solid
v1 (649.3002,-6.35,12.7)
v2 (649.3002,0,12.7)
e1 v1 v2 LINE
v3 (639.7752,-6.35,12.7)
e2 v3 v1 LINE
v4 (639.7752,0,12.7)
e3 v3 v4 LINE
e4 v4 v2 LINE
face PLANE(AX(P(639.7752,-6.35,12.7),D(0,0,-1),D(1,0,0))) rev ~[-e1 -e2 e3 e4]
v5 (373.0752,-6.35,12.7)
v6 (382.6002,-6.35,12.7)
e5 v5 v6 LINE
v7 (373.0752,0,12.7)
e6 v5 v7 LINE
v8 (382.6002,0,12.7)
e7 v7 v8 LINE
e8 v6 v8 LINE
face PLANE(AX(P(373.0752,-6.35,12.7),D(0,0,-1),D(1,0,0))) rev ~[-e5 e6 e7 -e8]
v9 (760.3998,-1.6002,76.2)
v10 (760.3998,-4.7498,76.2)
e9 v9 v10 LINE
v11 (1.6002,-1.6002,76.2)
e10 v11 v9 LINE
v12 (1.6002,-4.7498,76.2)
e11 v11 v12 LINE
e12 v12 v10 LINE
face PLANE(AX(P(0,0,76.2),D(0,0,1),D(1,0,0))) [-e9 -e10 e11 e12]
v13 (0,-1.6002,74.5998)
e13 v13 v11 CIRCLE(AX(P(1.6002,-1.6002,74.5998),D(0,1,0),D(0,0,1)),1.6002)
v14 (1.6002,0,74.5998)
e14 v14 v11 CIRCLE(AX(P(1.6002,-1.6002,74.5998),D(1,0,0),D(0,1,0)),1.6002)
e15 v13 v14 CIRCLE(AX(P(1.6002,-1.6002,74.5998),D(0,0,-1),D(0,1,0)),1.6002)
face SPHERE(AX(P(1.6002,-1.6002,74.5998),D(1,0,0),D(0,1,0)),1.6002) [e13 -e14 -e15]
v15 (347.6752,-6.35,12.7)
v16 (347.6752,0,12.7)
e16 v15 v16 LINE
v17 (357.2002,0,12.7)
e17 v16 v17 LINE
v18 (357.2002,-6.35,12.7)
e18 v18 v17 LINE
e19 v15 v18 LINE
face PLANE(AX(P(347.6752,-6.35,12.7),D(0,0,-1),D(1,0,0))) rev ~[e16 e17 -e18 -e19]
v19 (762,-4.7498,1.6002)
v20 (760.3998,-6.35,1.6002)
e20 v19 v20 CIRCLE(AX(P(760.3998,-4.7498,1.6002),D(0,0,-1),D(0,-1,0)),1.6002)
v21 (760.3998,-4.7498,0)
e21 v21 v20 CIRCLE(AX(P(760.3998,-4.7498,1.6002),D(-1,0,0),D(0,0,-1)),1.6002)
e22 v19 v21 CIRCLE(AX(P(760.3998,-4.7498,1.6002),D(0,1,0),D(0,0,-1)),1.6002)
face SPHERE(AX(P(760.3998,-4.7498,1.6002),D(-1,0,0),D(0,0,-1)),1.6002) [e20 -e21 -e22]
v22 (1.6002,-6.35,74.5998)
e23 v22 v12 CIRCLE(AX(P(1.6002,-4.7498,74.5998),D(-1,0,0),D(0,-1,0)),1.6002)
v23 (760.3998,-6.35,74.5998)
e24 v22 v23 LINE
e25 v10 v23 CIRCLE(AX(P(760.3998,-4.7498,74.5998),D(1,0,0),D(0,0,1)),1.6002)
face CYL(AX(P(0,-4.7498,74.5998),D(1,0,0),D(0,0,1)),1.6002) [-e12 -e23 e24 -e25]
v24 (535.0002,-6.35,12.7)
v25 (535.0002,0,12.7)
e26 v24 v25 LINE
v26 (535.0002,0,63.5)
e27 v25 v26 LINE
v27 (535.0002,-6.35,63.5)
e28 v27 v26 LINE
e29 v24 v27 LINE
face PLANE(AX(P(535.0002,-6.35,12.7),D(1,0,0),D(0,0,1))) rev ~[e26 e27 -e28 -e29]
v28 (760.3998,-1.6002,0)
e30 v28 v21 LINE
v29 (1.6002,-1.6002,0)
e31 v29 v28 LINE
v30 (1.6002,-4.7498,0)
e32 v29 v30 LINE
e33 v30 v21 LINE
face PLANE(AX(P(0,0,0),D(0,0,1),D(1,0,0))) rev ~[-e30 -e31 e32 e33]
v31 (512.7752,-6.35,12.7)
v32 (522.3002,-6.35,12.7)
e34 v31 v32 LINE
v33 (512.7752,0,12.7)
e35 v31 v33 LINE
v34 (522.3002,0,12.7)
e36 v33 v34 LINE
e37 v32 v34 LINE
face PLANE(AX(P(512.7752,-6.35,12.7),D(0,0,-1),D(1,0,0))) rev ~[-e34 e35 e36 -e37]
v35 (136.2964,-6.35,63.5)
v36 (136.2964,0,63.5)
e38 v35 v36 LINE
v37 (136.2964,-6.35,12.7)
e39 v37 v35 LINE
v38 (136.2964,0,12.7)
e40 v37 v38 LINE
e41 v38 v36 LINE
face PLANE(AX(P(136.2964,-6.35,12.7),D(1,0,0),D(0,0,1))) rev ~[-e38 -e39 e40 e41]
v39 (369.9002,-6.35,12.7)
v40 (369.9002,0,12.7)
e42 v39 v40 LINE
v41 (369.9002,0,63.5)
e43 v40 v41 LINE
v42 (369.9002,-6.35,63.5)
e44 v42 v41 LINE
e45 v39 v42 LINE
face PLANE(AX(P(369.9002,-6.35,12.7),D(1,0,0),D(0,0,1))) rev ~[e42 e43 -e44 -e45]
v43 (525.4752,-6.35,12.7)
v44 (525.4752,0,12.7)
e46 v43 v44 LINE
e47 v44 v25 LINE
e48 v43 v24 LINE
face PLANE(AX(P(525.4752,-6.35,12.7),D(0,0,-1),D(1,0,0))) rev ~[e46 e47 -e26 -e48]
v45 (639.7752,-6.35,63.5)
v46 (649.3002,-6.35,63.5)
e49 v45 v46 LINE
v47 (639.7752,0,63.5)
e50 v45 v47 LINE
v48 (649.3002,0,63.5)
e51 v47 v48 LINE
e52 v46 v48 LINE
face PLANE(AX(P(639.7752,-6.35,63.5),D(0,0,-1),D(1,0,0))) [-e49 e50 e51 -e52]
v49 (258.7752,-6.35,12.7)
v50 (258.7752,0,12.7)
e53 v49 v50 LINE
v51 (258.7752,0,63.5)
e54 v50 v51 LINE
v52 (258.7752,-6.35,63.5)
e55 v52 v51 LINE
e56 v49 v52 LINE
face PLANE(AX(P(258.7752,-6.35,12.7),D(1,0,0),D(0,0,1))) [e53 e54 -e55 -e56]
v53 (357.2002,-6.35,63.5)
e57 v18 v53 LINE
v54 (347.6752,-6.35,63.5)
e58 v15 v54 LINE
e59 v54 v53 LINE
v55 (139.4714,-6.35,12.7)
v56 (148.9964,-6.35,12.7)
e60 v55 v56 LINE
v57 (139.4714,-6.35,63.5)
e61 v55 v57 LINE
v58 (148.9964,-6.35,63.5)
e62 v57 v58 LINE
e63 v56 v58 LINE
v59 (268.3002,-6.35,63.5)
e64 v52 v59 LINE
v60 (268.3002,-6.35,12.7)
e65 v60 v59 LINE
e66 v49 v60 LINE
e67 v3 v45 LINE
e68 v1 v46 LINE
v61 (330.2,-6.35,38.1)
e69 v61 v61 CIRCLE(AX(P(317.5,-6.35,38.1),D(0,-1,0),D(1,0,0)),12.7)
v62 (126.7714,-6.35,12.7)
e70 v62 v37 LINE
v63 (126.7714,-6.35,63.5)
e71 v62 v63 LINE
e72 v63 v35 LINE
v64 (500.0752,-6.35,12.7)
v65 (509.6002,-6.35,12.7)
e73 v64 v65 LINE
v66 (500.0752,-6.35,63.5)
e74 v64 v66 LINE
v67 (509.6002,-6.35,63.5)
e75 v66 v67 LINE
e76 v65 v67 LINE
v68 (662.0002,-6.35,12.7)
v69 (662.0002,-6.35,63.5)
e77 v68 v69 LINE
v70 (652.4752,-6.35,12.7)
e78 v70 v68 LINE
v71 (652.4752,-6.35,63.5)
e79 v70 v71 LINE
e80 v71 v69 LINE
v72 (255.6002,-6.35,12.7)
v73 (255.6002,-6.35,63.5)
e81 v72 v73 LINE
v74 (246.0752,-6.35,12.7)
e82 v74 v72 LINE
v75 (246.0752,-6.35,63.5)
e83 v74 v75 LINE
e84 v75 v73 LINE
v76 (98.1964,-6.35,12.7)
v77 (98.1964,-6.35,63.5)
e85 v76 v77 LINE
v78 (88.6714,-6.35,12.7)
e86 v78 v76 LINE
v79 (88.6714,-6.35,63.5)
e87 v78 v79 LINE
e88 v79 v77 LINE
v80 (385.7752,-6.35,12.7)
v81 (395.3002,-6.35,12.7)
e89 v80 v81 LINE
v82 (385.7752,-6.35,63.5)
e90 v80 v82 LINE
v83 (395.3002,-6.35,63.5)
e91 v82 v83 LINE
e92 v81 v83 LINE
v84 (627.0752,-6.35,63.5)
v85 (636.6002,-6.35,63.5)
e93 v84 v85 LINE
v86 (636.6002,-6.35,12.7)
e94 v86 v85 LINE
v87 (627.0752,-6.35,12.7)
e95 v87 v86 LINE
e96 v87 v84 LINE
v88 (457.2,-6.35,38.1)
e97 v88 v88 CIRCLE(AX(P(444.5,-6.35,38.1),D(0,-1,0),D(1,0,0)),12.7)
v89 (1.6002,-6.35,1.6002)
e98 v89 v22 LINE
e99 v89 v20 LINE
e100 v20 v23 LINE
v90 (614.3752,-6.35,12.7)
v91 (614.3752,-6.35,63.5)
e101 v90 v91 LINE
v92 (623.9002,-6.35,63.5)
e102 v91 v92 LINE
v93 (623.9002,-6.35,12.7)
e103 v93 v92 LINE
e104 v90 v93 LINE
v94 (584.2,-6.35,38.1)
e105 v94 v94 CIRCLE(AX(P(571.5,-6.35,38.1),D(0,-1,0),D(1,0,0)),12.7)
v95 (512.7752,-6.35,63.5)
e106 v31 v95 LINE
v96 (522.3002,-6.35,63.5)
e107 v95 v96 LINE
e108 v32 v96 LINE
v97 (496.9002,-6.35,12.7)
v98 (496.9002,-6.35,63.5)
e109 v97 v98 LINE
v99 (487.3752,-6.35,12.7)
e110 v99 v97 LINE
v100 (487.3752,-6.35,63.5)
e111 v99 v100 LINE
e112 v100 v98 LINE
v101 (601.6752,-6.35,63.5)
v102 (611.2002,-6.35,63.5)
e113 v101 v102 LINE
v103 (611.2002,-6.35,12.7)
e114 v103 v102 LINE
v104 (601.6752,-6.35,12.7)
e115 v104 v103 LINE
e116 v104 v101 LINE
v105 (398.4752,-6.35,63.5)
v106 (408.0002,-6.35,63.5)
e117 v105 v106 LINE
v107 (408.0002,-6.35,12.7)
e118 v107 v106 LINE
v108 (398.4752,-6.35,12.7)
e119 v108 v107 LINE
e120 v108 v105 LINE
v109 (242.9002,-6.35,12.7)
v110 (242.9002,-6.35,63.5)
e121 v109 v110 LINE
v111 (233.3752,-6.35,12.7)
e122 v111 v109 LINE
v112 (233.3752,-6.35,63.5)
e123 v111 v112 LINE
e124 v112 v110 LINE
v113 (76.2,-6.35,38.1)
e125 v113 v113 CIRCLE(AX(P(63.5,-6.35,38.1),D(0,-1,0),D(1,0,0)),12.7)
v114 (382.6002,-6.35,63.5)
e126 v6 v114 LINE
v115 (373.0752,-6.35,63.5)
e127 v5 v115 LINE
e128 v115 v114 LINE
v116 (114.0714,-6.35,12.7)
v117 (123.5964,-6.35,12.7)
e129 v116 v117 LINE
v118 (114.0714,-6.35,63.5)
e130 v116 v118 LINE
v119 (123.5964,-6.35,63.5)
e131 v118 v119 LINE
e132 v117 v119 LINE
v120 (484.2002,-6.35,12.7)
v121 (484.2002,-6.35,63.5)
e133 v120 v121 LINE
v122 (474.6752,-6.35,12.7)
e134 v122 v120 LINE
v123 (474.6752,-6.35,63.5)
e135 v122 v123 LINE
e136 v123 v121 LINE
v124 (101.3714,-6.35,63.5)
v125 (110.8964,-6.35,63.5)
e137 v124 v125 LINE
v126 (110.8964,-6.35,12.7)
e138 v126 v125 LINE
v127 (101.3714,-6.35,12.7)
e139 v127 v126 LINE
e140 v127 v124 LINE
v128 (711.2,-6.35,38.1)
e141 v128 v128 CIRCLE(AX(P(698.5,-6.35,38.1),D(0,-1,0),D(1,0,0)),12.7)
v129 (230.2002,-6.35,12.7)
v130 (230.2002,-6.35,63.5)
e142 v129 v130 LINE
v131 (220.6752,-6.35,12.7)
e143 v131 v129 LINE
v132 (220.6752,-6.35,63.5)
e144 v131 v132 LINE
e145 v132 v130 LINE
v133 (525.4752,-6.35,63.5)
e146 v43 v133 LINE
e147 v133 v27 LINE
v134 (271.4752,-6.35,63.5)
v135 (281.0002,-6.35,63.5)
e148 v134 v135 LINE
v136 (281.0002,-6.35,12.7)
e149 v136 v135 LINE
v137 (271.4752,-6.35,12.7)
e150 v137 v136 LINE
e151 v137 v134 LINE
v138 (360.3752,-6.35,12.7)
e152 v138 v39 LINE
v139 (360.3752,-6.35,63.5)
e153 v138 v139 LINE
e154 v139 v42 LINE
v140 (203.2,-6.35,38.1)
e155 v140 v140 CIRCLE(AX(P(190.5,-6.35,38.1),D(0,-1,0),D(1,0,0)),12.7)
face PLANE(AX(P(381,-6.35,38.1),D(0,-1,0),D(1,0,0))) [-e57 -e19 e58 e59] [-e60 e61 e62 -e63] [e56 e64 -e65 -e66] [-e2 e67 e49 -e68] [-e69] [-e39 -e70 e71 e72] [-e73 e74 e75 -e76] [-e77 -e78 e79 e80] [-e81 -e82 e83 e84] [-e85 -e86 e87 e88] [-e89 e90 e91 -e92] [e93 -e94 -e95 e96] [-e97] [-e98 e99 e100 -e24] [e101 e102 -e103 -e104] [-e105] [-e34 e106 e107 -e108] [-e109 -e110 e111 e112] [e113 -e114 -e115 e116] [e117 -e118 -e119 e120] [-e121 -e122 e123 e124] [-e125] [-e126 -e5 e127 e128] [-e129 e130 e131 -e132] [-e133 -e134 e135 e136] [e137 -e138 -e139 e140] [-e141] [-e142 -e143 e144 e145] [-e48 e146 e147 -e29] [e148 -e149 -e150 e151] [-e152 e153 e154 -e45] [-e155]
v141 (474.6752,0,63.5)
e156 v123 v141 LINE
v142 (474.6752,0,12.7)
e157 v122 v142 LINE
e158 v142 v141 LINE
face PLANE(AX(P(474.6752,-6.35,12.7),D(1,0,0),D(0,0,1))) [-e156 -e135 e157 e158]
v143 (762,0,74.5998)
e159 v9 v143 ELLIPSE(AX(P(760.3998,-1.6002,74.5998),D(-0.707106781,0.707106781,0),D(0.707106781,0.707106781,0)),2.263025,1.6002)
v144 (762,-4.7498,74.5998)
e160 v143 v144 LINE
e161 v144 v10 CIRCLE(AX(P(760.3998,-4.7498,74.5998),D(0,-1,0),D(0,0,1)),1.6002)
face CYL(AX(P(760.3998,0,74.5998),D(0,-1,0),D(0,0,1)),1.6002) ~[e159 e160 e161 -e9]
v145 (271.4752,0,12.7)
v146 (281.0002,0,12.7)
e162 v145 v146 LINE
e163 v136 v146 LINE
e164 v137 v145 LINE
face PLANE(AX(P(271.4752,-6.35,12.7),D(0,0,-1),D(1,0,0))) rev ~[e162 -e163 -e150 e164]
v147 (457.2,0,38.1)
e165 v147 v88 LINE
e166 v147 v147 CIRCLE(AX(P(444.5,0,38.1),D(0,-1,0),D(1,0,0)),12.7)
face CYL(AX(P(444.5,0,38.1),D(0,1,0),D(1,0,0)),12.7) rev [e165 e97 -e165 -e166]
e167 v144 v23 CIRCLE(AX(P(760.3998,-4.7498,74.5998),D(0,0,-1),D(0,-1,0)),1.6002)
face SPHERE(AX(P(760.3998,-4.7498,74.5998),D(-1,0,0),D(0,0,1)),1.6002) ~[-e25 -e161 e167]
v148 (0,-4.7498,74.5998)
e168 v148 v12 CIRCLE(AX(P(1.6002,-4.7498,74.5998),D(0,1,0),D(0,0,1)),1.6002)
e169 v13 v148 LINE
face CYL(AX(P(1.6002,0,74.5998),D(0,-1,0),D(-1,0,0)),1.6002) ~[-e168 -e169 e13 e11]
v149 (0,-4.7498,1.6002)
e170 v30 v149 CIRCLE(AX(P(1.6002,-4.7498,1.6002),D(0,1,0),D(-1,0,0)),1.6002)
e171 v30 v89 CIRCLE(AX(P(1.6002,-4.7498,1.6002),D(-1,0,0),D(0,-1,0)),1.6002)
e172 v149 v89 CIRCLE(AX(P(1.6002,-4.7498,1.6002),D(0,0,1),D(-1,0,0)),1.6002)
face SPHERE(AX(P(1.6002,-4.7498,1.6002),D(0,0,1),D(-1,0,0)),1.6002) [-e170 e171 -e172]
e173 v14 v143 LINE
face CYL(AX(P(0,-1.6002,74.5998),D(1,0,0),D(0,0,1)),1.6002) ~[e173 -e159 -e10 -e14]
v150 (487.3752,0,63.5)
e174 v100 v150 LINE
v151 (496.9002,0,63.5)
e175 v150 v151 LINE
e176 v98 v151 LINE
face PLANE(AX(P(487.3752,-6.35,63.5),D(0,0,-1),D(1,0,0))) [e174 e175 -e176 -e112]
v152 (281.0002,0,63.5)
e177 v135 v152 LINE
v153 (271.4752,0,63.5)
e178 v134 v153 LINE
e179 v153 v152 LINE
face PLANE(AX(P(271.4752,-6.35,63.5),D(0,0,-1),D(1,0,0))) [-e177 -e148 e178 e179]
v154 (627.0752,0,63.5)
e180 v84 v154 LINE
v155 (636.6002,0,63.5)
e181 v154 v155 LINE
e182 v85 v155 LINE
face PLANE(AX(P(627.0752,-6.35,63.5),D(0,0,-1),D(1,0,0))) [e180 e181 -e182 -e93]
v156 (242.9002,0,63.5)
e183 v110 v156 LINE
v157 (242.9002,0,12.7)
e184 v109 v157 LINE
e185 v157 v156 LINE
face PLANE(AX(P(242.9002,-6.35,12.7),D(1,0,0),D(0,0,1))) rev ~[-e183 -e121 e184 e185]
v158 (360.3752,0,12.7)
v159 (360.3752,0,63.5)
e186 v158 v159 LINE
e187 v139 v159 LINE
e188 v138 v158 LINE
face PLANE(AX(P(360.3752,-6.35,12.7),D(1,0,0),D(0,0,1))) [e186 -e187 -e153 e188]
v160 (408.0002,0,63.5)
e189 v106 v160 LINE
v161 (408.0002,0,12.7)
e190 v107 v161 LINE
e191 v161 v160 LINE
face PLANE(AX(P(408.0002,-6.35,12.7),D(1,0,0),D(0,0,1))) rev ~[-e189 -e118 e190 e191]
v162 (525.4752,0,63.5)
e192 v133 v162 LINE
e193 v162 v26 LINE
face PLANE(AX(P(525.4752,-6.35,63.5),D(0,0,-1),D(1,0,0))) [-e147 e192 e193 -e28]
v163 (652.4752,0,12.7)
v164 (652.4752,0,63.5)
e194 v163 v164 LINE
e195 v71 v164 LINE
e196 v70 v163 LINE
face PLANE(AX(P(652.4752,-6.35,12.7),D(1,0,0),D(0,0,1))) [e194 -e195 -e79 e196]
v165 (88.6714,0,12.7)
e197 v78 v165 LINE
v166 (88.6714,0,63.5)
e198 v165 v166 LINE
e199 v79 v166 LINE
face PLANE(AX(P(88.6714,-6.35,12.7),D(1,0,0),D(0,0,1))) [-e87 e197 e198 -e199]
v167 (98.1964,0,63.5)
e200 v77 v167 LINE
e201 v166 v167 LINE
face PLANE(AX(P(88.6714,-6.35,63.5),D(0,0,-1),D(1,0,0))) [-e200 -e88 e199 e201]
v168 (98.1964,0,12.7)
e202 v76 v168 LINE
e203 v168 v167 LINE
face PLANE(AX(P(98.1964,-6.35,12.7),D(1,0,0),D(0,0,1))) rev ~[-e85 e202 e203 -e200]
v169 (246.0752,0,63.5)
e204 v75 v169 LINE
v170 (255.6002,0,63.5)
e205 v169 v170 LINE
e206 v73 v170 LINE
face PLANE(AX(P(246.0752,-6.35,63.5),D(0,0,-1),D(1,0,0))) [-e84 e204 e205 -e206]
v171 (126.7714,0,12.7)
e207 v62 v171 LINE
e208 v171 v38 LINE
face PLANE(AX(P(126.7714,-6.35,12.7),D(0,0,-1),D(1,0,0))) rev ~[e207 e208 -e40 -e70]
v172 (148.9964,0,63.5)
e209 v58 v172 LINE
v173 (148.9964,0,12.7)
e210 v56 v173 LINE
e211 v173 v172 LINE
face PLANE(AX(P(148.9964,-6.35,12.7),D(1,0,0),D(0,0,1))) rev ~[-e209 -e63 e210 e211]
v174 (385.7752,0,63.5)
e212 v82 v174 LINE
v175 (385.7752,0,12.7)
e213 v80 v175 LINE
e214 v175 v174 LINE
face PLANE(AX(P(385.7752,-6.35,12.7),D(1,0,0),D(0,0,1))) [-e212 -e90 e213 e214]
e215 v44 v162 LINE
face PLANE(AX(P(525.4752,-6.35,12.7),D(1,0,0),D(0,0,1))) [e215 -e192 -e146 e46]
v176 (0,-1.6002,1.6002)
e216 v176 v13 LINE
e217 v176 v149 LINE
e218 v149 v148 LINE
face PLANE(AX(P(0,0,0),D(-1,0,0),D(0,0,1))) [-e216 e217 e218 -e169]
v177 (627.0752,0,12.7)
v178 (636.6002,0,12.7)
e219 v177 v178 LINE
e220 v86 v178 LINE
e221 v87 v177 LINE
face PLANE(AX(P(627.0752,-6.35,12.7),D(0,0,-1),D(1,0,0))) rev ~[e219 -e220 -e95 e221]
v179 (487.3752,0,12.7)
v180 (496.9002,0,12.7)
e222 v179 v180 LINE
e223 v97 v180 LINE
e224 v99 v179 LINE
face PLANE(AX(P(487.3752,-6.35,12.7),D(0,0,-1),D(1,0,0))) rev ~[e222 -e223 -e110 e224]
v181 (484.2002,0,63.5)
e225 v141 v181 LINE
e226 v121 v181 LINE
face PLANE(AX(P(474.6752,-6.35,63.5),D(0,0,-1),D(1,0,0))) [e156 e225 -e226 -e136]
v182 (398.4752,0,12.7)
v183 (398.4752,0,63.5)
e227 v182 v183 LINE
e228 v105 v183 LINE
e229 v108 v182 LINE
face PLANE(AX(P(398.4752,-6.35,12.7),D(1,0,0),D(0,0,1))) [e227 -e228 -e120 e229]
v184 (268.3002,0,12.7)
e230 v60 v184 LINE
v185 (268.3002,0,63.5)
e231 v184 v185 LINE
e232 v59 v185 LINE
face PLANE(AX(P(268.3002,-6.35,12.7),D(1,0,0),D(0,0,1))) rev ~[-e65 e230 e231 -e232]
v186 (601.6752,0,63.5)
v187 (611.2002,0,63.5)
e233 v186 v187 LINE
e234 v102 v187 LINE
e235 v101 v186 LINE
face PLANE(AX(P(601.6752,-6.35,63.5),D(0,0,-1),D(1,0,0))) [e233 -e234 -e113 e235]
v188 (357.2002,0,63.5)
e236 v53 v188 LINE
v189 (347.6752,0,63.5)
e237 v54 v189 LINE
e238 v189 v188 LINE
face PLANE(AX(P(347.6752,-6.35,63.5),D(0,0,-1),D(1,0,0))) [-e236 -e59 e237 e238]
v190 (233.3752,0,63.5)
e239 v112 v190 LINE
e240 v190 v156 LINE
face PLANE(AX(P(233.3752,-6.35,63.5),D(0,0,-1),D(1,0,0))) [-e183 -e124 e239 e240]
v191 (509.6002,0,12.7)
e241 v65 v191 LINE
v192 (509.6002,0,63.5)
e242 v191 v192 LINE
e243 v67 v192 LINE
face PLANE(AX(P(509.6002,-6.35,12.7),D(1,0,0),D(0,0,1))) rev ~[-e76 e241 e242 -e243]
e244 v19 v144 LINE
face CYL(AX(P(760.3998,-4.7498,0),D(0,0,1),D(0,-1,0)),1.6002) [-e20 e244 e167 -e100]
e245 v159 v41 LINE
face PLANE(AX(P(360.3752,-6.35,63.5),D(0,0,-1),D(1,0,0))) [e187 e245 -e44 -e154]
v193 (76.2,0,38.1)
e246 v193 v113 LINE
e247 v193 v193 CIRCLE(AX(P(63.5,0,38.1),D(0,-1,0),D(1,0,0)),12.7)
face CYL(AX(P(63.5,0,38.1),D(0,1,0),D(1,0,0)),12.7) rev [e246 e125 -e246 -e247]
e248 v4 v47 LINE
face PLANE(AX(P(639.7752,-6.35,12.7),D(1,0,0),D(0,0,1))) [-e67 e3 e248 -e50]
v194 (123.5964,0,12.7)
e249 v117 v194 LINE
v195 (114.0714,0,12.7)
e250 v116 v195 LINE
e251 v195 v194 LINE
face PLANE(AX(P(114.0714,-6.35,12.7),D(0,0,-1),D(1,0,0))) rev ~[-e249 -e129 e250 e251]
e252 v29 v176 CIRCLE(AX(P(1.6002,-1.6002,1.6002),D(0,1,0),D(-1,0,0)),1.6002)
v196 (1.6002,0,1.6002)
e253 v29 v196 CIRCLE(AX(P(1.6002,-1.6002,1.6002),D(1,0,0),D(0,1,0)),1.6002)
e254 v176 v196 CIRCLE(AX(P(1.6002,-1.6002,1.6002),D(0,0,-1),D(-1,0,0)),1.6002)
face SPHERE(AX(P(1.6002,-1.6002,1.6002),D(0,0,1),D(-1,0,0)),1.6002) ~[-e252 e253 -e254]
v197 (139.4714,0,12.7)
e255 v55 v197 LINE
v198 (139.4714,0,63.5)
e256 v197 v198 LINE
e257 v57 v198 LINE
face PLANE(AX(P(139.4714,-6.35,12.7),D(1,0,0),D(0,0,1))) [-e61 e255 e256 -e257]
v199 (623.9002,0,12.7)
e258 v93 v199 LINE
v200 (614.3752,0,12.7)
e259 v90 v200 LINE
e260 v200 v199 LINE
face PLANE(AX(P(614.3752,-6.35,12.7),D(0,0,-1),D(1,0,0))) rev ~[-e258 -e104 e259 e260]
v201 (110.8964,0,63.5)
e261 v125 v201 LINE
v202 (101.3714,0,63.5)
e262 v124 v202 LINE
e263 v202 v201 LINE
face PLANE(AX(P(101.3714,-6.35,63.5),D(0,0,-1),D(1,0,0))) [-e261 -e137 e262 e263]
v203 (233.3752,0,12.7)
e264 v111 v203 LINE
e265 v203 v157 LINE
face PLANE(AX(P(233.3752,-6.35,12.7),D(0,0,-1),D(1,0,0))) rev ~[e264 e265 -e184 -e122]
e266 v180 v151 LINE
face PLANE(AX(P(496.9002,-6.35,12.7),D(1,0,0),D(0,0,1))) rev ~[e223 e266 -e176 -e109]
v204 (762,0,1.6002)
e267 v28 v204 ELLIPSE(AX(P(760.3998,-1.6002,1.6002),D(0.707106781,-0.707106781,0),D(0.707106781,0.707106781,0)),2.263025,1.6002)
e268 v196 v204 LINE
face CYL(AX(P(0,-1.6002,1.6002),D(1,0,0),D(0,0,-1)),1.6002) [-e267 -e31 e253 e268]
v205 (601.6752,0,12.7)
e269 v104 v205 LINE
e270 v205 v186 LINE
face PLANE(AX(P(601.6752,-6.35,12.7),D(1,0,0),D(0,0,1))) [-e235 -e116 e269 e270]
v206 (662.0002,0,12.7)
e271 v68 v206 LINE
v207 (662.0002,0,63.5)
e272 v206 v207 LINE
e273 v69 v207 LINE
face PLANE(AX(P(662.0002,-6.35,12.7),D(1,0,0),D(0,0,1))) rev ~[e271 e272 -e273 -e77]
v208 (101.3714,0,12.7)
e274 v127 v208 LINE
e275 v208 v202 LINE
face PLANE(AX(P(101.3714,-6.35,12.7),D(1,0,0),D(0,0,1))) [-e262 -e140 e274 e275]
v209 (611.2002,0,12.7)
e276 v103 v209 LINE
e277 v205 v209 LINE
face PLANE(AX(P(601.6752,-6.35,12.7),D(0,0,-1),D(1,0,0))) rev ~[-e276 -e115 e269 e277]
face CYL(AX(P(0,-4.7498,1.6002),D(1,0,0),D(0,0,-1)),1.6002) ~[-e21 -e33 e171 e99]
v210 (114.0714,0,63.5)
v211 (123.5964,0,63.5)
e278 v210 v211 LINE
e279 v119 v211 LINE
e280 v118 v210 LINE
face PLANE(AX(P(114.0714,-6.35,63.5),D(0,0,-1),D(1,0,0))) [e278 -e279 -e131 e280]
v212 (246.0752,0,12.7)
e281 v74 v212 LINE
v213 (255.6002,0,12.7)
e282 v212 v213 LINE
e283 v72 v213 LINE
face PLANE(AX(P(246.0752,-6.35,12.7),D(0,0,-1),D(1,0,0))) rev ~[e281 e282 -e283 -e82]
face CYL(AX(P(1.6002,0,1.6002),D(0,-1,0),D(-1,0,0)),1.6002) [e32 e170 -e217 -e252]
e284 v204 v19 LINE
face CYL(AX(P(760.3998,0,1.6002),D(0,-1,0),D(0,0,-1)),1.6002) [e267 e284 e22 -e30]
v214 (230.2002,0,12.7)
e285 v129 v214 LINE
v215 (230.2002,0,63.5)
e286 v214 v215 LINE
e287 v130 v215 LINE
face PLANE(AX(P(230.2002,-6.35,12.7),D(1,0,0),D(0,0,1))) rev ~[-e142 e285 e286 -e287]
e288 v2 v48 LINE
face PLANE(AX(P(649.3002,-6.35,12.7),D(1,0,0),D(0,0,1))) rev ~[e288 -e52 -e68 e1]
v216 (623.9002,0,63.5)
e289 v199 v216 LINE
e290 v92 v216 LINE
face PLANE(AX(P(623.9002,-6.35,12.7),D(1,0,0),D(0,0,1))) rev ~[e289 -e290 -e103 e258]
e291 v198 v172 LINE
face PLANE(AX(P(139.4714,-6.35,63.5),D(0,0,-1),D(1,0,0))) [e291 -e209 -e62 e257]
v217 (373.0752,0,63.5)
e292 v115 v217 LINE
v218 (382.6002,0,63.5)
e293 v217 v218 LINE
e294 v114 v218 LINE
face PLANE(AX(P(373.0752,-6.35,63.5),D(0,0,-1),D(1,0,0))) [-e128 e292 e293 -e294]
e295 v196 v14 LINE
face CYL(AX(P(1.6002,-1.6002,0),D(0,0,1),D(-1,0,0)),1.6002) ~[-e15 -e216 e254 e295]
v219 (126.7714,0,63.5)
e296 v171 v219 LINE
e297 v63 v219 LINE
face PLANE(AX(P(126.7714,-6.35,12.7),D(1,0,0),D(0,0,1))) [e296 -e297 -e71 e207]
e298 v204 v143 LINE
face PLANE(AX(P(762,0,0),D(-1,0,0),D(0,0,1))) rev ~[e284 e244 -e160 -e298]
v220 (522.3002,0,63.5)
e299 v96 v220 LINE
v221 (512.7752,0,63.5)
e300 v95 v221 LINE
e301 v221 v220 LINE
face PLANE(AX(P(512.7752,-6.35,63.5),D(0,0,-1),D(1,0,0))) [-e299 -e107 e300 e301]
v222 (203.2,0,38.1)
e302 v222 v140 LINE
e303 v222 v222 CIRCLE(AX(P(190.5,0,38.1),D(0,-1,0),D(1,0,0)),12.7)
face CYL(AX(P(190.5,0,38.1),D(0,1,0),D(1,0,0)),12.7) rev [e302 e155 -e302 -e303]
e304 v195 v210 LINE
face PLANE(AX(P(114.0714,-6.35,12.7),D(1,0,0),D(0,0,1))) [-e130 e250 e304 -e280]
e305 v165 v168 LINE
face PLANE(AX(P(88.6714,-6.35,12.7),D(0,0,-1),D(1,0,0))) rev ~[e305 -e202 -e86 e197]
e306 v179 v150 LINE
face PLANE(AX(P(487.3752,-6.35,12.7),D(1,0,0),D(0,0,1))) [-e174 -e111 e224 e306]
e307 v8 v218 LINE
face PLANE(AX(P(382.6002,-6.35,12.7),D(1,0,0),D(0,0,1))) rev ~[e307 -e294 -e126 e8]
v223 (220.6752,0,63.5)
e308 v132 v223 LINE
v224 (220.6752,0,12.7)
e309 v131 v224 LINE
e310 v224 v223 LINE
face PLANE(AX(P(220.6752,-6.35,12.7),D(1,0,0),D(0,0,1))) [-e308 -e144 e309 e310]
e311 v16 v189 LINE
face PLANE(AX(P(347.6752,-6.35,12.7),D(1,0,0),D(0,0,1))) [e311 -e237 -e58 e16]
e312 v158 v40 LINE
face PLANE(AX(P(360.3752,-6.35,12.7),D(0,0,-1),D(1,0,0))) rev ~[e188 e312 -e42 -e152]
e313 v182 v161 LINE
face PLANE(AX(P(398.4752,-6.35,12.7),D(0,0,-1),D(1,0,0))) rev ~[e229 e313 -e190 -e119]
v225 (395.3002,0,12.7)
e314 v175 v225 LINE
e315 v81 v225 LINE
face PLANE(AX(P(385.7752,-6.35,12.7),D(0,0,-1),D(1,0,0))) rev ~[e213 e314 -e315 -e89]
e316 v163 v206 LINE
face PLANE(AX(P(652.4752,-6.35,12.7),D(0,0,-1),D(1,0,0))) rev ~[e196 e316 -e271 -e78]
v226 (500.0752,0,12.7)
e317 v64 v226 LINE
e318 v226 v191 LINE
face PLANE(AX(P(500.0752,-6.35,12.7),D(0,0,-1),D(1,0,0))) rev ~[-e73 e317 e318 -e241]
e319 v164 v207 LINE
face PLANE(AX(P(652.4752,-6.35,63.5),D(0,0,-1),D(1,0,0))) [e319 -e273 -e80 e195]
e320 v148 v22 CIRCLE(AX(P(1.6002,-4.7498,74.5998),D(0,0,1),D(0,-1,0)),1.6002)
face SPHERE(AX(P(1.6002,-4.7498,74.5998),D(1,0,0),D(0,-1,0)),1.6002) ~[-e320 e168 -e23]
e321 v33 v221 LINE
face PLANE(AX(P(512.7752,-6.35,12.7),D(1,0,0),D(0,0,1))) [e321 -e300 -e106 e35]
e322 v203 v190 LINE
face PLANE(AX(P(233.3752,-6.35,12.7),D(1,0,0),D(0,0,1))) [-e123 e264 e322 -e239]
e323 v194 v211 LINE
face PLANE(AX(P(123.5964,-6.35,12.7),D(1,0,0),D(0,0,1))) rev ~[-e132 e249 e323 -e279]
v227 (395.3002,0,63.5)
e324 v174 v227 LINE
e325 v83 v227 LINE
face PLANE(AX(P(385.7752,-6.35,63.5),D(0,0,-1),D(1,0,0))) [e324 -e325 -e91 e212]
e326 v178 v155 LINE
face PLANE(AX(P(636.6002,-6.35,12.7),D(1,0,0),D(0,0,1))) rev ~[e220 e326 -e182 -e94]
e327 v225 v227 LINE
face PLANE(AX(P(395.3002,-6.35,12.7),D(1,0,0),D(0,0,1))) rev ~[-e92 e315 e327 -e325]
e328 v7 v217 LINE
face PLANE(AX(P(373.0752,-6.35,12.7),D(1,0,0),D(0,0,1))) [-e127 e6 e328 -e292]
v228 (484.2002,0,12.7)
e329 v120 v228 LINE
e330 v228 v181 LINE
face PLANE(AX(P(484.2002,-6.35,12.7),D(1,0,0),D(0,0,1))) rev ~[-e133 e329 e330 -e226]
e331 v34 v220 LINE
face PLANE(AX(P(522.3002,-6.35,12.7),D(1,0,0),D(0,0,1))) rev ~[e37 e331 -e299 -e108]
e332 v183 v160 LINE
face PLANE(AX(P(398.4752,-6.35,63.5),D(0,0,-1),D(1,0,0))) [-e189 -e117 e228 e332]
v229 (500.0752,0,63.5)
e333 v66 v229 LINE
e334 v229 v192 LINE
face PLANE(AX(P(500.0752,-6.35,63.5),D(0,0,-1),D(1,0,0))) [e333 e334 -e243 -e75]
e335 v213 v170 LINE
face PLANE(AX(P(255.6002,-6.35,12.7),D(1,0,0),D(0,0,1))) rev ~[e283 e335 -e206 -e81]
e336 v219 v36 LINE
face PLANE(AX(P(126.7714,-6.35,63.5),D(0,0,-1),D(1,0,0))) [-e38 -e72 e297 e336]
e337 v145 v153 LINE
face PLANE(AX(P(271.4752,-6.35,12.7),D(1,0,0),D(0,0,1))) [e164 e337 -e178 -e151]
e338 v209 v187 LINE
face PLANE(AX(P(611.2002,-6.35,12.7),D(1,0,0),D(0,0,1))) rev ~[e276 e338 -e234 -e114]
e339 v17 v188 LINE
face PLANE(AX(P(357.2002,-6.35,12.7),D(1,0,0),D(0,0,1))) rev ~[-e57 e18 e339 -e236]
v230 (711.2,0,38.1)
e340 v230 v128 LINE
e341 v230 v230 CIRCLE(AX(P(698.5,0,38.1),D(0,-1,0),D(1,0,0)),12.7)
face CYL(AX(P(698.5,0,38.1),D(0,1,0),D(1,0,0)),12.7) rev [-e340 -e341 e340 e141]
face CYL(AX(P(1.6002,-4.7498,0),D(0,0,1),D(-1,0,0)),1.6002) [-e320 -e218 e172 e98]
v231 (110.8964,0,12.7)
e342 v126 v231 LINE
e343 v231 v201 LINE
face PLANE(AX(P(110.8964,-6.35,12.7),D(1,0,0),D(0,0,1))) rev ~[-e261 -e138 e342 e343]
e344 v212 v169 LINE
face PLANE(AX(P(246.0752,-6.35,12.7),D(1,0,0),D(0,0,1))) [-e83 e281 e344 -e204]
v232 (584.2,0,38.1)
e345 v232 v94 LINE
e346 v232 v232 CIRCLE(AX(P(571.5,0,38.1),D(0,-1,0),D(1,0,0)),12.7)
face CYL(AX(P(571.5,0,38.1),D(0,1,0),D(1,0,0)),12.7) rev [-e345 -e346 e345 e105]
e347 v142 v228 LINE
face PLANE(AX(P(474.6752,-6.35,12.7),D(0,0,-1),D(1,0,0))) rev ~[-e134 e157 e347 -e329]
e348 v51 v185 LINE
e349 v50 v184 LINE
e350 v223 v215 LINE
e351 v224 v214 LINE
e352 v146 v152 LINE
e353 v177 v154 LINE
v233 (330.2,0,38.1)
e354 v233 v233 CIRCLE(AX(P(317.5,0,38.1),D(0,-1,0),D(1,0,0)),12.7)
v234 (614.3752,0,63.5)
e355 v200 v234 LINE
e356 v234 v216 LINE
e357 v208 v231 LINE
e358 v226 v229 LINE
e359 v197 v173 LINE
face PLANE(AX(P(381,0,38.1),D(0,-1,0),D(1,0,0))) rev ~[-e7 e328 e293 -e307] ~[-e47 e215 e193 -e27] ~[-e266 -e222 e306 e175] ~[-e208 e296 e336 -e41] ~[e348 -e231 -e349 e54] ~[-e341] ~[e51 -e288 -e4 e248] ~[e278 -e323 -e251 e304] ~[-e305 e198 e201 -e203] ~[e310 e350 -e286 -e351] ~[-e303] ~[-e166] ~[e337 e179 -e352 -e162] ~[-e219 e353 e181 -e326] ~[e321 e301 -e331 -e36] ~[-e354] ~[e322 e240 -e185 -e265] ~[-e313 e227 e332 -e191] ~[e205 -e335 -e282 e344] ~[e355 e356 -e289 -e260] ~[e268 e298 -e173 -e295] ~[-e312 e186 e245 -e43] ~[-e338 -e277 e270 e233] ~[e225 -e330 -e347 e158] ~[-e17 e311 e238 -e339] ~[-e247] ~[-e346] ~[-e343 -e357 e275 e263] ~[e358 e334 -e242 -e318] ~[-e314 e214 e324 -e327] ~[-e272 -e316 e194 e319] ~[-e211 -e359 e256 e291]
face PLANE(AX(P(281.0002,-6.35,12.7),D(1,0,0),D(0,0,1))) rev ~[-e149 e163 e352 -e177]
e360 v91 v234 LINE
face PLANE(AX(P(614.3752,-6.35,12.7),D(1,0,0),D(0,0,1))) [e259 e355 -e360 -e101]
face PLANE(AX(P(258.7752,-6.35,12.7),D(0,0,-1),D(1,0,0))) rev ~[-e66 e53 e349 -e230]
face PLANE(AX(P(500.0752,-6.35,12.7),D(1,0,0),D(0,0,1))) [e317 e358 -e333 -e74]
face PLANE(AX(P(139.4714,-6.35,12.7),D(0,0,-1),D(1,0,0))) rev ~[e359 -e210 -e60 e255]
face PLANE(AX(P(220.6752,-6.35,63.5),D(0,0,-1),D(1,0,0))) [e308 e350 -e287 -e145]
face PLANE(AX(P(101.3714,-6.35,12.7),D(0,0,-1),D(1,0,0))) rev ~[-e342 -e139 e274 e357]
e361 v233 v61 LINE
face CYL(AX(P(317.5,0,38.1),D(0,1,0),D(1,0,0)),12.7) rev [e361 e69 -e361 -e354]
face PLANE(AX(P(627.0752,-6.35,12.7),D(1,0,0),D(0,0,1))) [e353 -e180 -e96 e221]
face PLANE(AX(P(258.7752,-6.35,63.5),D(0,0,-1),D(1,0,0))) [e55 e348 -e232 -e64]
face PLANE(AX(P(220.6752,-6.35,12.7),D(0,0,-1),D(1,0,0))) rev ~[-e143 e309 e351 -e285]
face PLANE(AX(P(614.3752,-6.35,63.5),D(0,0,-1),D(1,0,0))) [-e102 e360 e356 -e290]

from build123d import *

# Parameters (mm, degrees)
F0_W     = 762
F0_H     = 76.2
F0_R     = 12.7
F1_DEPTH = 6.35
F2_W     = 9.525
F2_H     = 50.8
F3_DEPTH = 6.351
F4_R     = 1.6002


with BuildPart() as f1:
    # F0 (on Front) → F1 (new body)
    with BuildSketch(Plane.XZ):
        with Locations((381, 38.1)):
            Rectangle(F0_W, F0_H)
        with Locations((63.5, 38.1)):
            Circle(F0_R, mode=Mode.SUBTRACT)
        with Locations((190.5, 38.1)):
            Circle(F0_R, mode=Mode.SUBTRACT)
        with Locations((317.5, 38.1)):
            Circle(F0_R, mode=Mode.SUBTRACT)
        with Locations((444.5, 38.1)):
            Circle(F0_R, mode=Mode.SUBTRACT)
        with Locations((571.5, 38.1)):
            Circle(F0_R, mode=Mode.SUBTRACT)
        with Locations((698.5, 38.1)):
            Circle(F0_R, mode=Mode.SUBTRACT)
    extrude(amount=F1_DEPTH)

    # F2 (on face) → F3 (cut, through all)
    with BuildSketch(Plane.XZ.offset(6.35)):
        with Locations((93.4339, 38.1)):
            Rectangle(F2_W, F2_H)
        with Locations((106.1339, 38.1)):
            Rectangle(F2_W, F2_H)
        with Locations((118.8339, 38.1)):
            Rectangle(F2_W, F2_H)
        with Locations((131.5339, 38.1)):
            Rectangle(F2_W, F2_H)
        with Locations((144.2339, 38.1)):
            Rectangle(F2_W, F2_H)
        with Locations((225.4377, 38.1)):
            Rectangle(F2_W, F2_H)
        with Locations((238.1377, 38.1)):
            Rectangle(F2_W, F2_H)
        with Locations((250.8377, 38.1)):
            Rectangle(F2_W, F2_H)
        with Locations((263.5377, 38.1)):
            Rectangle(F2_W, F2_H)
        with Locations((276.2377, 38.1)):
            Rectangle(F2_W, F2_H)
        with Locations((352.4377, 38.1)):
            Rectangle(F2_W, F2_H)
        with Locations((365.1377, 38.1)):
            Rectangle(F2_W, F2_H)
        with Locations((377.8377, 38.1)):
            Rectangle(F2_W, F2_H)
        with Locations((390.5377, 38.1)):
            Rectangle(F2_W, F2_H)
        with Locations((403.2377, 38.1)):
            Rectangle(F2_W, F2_H)
        with Locations((479.4377, 38.1)):
            Rectangle(F2_W, F2_H)
        with Locations((492.1377, 38.1)):
            Rectangle(F2_W, F2_H)
        with Locations((504.8377, 38.1)):
            Rectangle(F2_W, F2_H)
        with Locations((517.5377, 38.1)):
            Rectangle(F2_W, F2_H)
        with Locations((530.2377, 38.1)):
            Rectangle(F2_W, F2_H)
        with Locations((606.4377, 38.1)):
            Rectangle(F2_W, F2_H)
        with Locations((619.1377, 38.1)):
            Rectangle(F2_W, F2_H)
        with Locations((631.8377, 38.1)):
            Rectangle(F2_W, F2_H)
        with Locations((644.5377, 38.1)):
            Rectangle(F2_W, F2_H)
        with Locations((657.2377, 38.1)):
            Rectangle(F2_W, F2_H)
    extrude(amount=-F3_DEPTH, mode=Mode.SUBTRACT)

    # F4
    f4_edges = [f1.edges().sort_by_distance(p)[0] for p in [
        (381, -6.35, 76.2),
        (381, 0, 76.2),
        (0, -6.35, 38.1),
        (0, 0, 38.1),
        (762, -3.175, 76.2),
        (0, -3.175, 76.2),
        (0, -3.175, 0),
        (381, -6.35, 0),
        (381, 0, 0),
        (762, -3.175, 0),
        (762, -6.35, 38.1),
    ]]
    fillet(f4_edges, radius=F4_R)


solid = f1.part
